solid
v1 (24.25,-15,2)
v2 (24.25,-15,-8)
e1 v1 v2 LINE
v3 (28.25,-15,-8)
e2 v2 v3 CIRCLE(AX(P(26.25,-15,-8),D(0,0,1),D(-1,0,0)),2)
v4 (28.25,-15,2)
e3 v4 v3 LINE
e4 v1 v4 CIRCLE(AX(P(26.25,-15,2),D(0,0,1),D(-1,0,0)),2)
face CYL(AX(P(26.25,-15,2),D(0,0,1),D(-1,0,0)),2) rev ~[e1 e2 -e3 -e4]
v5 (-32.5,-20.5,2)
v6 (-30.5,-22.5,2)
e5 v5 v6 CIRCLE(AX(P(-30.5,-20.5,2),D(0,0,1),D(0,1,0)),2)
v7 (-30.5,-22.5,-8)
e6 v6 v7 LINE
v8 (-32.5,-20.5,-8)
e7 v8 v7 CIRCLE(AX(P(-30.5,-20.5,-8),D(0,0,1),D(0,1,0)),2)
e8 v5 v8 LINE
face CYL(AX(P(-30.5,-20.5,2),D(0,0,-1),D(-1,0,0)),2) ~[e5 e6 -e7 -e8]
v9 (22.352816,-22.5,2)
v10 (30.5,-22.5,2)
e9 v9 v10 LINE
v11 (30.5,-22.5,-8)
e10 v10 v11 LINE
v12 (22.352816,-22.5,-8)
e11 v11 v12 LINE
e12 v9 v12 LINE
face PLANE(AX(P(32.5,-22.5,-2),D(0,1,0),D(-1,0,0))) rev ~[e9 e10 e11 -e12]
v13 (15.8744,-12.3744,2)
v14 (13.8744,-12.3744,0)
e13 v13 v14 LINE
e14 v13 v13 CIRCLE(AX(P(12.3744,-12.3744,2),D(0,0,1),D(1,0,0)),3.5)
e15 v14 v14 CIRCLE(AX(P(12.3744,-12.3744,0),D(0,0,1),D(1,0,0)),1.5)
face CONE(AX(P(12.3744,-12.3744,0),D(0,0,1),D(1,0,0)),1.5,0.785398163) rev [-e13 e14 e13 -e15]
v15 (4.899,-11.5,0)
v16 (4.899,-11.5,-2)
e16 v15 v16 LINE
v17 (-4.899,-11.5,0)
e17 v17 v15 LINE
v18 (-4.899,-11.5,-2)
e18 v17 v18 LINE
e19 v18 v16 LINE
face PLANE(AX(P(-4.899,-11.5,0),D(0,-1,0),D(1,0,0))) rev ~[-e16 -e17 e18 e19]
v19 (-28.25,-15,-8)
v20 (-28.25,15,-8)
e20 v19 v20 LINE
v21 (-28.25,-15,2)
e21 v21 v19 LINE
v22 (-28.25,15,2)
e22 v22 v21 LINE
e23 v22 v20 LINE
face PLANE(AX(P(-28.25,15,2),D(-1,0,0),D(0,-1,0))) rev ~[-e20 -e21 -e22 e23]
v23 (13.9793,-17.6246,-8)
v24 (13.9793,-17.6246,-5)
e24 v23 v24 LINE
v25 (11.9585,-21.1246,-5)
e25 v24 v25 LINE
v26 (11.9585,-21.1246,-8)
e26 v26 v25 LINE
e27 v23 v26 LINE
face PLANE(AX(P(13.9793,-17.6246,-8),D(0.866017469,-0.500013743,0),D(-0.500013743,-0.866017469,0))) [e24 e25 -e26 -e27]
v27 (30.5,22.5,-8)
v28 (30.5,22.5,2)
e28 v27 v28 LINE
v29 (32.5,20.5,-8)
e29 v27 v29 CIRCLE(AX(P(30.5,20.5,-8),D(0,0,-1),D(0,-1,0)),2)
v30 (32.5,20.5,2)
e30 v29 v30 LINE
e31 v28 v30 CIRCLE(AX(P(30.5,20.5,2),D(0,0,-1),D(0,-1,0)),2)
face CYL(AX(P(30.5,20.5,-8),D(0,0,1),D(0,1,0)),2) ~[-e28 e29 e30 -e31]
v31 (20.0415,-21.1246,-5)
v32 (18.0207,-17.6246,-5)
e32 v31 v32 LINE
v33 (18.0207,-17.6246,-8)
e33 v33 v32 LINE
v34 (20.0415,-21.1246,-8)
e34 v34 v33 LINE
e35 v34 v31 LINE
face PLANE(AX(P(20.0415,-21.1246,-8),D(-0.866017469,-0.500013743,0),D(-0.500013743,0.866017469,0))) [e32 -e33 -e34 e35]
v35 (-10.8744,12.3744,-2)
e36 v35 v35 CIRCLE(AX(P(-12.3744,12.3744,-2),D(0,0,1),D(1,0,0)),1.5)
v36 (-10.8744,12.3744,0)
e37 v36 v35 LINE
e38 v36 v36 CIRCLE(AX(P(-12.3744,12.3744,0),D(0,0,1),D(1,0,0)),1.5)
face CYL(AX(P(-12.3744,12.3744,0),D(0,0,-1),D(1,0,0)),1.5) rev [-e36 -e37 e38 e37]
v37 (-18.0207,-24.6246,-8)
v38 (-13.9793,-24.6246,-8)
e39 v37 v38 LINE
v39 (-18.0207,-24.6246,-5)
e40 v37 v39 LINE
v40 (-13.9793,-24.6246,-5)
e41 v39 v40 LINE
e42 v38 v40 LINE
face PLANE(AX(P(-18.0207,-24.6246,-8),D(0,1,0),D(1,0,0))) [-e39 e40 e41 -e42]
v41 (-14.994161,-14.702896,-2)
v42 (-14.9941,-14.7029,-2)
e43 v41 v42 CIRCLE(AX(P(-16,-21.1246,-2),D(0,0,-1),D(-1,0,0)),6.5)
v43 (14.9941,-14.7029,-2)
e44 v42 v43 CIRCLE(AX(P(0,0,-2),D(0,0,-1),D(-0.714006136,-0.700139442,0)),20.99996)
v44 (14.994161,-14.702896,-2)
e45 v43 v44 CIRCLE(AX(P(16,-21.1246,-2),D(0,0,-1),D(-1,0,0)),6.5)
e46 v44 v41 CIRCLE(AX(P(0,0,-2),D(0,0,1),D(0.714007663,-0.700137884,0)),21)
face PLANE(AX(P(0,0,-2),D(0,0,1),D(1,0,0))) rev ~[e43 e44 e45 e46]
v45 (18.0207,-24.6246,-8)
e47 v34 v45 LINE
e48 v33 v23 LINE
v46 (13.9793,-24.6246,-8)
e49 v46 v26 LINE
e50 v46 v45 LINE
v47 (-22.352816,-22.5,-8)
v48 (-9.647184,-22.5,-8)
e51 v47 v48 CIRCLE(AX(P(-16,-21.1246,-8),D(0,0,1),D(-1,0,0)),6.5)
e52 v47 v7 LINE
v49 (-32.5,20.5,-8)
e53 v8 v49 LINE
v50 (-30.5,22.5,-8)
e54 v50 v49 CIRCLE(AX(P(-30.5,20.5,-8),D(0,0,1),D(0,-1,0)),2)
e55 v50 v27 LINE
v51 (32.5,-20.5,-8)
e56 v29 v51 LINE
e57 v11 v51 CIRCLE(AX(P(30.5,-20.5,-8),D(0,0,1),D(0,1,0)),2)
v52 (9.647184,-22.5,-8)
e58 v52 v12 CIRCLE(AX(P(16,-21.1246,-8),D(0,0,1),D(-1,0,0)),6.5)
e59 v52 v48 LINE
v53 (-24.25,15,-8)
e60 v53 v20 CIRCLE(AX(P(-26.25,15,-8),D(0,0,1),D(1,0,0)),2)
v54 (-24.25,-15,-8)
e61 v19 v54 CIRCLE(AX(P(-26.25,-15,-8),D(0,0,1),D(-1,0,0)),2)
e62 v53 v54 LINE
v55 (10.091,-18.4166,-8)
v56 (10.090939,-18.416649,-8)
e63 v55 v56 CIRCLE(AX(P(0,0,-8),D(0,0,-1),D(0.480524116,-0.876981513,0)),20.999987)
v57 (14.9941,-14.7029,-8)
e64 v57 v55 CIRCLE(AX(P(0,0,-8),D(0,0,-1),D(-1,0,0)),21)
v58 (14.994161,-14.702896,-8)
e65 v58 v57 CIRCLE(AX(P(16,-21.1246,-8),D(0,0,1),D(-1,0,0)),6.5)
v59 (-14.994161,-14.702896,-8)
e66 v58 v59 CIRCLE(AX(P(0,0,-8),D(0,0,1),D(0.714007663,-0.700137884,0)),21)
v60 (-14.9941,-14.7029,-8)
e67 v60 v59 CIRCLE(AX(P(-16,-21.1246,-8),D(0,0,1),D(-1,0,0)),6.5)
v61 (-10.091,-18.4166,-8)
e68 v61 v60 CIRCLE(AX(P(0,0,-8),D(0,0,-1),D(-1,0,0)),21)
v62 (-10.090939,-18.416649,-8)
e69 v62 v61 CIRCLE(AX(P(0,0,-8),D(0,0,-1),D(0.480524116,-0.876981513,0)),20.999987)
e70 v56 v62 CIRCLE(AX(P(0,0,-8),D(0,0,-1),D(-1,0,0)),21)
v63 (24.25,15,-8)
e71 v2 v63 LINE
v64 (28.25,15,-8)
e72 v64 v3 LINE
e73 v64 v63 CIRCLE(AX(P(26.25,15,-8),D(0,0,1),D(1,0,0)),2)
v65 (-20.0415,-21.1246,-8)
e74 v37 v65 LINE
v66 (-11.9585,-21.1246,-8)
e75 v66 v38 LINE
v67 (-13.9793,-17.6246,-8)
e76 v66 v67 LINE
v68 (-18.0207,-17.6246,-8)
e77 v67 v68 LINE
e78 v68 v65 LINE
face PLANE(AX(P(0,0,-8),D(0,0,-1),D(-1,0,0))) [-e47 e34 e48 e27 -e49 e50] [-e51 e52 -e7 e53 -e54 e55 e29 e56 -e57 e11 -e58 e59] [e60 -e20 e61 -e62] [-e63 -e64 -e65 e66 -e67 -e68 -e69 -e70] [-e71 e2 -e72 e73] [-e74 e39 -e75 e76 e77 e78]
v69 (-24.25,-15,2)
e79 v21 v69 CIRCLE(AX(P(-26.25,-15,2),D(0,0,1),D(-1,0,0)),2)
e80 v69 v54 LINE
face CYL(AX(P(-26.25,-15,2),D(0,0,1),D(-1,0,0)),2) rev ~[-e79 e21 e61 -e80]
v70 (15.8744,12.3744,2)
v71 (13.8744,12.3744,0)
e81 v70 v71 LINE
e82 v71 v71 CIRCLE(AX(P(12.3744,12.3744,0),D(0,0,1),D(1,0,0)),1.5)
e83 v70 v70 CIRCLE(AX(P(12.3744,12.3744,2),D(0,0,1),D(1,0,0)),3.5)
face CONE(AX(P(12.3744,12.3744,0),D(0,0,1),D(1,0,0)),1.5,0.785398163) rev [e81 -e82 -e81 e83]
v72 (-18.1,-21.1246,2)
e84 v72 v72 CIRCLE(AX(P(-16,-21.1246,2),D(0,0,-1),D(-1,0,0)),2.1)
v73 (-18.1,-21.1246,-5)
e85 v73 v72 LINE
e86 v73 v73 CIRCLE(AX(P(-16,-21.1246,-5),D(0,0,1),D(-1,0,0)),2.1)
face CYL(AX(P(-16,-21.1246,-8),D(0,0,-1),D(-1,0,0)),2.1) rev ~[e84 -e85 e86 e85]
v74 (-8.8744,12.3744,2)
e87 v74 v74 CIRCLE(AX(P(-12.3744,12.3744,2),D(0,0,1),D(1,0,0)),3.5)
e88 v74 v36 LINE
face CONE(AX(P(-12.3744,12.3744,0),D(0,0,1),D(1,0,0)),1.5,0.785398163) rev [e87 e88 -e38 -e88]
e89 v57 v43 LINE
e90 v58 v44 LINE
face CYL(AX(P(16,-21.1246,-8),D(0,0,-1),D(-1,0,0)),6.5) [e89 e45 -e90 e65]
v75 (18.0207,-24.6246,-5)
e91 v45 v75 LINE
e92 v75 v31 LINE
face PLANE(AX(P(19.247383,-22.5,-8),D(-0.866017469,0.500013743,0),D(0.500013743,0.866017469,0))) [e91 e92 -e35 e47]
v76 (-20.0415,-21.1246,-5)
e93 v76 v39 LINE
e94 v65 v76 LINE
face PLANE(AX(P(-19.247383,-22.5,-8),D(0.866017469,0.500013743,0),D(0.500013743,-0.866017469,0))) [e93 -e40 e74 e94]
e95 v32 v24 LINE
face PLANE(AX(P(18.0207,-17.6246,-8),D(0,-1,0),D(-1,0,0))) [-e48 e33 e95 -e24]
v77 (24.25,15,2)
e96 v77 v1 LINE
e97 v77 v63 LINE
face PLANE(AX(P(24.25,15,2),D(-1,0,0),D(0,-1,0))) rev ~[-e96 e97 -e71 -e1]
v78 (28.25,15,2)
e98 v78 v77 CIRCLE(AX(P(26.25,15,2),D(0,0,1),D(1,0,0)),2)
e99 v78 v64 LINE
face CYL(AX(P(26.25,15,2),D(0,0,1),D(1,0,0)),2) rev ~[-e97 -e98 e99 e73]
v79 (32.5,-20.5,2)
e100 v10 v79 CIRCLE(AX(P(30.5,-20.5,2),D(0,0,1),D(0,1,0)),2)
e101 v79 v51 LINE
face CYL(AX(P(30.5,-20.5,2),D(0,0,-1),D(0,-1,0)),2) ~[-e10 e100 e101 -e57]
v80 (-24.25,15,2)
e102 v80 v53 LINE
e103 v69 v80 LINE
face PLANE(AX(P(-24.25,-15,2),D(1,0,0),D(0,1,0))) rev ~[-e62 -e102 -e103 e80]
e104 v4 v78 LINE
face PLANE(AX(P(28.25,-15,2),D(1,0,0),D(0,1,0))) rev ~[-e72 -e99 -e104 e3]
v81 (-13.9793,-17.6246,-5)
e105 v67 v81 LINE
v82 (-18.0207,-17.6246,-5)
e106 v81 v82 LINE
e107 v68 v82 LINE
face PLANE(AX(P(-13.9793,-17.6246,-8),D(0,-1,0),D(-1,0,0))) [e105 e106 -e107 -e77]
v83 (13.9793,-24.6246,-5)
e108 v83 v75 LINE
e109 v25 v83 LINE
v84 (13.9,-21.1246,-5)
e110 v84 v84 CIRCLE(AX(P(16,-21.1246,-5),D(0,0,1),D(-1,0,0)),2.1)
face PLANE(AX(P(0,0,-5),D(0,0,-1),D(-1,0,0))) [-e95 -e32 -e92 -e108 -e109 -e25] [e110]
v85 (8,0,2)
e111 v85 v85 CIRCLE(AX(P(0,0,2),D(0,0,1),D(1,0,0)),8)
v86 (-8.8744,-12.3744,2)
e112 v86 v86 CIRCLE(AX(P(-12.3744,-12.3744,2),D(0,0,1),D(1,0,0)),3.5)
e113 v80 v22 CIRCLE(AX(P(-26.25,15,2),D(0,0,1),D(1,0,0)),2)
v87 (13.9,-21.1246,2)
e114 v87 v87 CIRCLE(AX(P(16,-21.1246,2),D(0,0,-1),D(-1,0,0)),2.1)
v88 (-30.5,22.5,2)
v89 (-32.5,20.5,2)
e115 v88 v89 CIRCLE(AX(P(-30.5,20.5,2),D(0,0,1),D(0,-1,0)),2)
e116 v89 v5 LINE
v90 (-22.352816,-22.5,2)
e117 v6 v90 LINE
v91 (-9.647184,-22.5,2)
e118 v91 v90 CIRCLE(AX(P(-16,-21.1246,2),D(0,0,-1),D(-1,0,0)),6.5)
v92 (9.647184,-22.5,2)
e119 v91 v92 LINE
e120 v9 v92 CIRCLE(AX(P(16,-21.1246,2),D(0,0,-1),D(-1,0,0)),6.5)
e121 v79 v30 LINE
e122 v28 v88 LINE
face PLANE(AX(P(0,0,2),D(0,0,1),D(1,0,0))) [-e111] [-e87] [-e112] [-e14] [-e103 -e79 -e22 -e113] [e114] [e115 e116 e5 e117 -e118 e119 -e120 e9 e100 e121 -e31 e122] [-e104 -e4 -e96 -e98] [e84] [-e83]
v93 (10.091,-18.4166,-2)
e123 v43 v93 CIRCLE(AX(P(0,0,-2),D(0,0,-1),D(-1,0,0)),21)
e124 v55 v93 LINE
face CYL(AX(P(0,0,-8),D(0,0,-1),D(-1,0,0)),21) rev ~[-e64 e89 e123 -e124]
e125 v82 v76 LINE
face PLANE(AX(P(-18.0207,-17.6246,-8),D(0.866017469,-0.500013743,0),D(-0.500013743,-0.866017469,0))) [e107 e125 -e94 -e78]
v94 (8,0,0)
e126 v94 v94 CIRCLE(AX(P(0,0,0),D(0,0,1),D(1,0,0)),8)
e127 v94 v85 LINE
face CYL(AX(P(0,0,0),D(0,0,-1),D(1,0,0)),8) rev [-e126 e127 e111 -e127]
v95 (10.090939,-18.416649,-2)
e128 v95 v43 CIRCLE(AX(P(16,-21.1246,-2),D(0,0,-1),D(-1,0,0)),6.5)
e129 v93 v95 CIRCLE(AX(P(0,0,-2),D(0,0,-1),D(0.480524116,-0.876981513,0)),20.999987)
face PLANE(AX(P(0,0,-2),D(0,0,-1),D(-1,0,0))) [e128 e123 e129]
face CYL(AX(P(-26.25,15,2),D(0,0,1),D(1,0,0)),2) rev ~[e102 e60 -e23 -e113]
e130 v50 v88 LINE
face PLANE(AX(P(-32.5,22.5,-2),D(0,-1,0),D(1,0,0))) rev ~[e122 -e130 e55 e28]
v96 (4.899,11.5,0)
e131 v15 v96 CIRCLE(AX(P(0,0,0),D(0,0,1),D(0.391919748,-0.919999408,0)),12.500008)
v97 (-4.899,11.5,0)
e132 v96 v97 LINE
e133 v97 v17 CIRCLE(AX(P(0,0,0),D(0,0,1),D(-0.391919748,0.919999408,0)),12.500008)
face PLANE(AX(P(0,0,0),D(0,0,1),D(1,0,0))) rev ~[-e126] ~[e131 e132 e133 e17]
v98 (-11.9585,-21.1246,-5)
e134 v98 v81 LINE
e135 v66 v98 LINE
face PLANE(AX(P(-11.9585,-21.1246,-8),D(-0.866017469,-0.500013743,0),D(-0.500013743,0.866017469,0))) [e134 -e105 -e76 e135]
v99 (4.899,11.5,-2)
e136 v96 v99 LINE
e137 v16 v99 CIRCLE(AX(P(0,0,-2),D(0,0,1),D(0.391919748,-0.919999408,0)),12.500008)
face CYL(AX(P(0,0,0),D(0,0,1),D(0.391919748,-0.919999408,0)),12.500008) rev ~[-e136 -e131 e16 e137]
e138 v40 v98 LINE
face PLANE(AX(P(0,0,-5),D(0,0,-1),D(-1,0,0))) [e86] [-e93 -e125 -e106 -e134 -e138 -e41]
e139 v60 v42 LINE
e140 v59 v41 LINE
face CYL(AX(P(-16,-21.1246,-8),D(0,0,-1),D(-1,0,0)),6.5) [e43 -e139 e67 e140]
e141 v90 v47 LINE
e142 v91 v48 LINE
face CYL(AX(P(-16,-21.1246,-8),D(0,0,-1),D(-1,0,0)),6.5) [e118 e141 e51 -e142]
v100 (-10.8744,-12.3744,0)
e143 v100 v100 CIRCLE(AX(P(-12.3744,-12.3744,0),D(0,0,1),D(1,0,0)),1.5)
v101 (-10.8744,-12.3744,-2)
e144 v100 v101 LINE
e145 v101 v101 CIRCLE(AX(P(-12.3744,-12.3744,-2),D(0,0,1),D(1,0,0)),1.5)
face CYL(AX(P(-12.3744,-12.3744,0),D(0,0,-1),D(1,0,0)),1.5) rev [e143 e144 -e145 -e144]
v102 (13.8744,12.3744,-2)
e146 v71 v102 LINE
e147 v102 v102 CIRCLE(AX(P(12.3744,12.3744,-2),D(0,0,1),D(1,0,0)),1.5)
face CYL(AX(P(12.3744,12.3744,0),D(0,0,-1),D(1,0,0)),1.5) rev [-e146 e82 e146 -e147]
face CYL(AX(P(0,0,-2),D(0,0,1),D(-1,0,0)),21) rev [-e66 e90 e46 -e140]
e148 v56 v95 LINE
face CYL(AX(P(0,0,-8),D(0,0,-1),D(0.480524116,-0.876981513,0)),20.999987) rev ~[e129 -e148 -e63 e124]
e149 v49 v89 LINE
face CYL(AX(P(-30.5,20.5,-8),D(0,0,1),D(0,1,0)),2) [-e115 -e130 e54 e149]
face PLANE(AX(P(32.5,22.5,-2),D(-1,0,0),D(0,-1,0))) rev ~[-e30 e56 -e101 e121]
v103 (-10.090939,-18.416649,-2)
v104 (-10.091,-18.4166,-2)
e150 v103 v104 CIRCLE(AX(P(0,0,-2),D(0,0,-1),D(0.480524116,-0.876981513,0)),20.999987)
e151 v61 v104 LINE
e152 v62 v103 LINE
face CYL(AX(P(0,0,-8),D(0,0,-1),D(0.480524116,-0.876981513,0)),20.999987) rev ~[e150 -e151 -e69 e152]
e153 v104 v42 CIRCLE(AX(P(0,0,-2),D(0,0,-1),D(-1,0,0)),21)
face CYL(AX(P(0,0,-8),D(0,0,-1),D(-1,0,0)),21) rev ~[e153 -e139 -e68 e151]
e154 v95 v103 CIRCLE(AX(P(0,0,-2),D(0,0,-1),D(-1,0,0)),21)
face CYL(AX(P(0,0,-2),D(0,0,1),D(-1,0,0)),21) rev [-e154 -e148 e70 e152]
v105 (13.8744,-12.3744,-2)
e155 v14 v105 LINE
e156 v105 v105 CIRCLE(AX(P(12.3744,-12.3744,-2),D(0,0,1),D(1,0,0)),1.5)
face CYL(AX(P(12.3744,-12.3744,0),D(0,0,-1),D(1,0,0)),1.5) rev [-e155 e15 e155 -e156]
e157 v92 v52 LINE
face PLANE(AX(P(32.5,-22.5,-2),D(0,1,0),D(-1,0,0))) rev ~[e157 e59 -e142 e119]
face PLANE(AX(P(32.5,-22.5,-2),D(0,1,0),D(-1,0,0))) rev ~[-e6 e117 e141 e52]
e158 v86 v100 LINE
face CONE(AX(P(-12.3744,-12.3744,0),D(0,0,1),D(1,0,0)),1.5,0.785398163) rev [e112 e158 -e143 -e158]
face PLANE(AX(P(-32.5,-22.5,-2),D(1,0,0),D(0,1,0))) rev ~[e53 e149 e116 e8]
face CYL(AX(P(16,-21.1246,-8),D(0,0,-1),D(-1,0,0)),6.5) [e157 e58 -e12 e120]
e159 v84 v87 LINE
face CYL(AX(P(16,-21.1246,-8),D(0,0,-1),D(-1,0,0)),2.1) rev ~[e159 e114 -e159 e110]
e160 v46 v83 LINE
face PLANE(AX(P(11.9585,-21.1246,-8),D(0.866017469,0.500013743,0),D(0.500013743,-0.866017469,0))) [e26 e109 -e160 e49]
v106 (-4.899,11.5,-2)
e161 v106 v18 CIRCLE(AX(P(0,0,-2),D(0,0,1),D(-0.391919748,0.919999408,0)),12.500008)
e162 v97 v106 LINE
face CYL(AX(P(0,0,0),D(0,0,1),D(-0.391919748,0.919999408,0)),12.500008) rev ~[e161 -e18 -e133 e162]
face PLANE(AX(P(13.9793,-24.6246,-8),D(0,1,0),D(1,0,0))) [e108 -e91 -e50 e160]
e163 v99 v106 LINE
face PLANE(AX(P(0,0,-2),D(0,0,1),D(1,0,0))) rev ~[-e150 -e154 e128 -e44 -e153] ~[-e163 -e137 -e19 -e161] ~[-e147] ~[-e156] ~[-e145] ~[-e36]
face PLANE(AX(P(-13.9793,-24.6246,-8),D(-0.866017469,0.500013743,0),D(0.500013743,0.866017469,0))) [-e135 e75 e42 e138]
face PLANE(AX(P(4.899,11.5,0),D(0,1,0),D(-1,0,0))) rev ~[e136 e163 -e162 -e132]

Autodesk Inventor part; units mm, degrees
ref_plane "YZ Plane" through (0, 0, 0) normal (1, 0, 0) x (0, 1, 0)
ref_plane "XZ Plane" through (0, 0, 0) normal (0, 1, 0) x (-1, 0, 0)
ref_plane "XY Plane" through (0, 0, 0) normal (0, 0, 1) x (1, 0, 0)
sketch "Skizze1" plane through (0, 0, 0) normal (0, 0, 1) x (1, 0, 0)
  circle A0 centre (0, 0) radius 4.5 projected
  line L0 (4.899, 11.5) -> (-4.899, 11.5) projected
  arc A1 (-4.899, 11.5) -> (-4.899, -11.5) centre (0, 0) ccw projected
  line L1 (-4.899, -11.5) -> (4.899, -11.5) projected
  arc A2 (4.899, -11.5) -> (4.899, 11.5) centre (0, 0) ccw projected
  arc A3 (4.899, -11.5) -> (4.899, 11.5) centre (0, 0) ccw projected
  arc A4 (-4.899, 11.5) -> (-4.899, -11.5) centre (0, 0) ccw projected
  line L2 (-4.899, -11.5) -> (4.899, -11.5) projected
  line L3 (4.899, 11.5) -> (-4.899, 11.5) projected
  circle A5 centre (0, 0) radius 21 projected
  arc A6 (-21.082, -16.7467) -> (-16.7467, -21.082) centre (0, 0) ccw projected
  line L4 (-16.7467, -21.082) -> (16.7467, -21.082) projected
  arc A7 (16.7467, -21.082) -> (21.082, -16.7467) centre (0, 0) ccw projected
  line L5 (21.082, -16.7467) -> (21.082, 16.7467) projected
  arc A8 (21.082, 16.7467) -> (16.7467, 21.082) centre (0, 0) ccw projected
  line L6 (16.7467, 21.082) -> (-16.7467, 21.082) projected
  arc A9 (-16.7467, 21.082) -> (-21.082, 16.7467) centre (0, 0) ccw projected
  line L7 (-21.082, 16.7467) -> (-21.082, -16.7467) projected
  line L8 (-32.5, -22.5) -> (32.5, -22.5)
  line L9 (32.5, -22.5) -> (32.5, 22.5)
  line L10 (32.5, 22.5) -> (-32.5, 22.5)
  line L11 (-32.5, 22.5) -> (-32.5, -22.5)
  line L12 (-32.5, -22.5) -> (32.5, 22.5) construction
  line L13 (32.5, -22.5) -> (-32.5, 22.5) construction
  arc A10 (-14.4273, -15.2596) -> (14.4273, -15.2596) centre (0, 0) ccw projected
  arc A11 (15.2596, 14.4273) -> (14.4273, 15.2596) centre (15.494, 15.494) ccw projected
  arc A12 (14.4273, -15.2596) -> (15.2596, -14.4273) centre (15.494, -15.494) ccw projected
  arc A13 (-15.2596, -14.4273) -> (-14.4273, -15.2596) centre (-15.494, -15.494) ccw projected
  arc A14 (-14.4273, 15.2596) -> (-15.2596, 14.4273) centre (-15.494, 15.494) ccw projected
  arc A15 (-15.2596, 14.4273) -> (-15.2596, -14.4273) centre (0, 0) ccw projected
  arc A16 (14.4273, 15.2596) -> (-14.4273, 15.2596) centre (0, 0) ccw projected
  arc A17 (15.2596, -14.4273) -> (15.2596, 14.4273) centre (0, 0) ccw projected
  circle A18 centre (12.3744, -12.3744) radius 1.5 projected
  circle A19 centre (12.3744, -12.3744) radius 1.5 projected
  circle A20 centre (-12.3744, -12.3744) radius 1.5 projected
  circle A21 centre (-12.3744, -12.3744) radius 1.5 projected
  circle A22 centre (-12.3744, 12.3744) radius 1.5 projected
  circle A23 centre (-12.3744, 12.3744) radius 1.5 projected
  circle A24 centre (12.3744, 12.3744) radius 1.5 projected
  circle A25 centre (12.3744, 12.3744) radius 1.5 projected
  point P0 (0, 0)
  point P1 (8.8388, 8.8388)
  point P2 (8.8388, -8.8388)
  point P3 (-8.8388, -8.8388)
  point P4 (-8.8388, 8.8388)
  dimension "d0" = 45
  dimension "d1" = 65
extrude "Extrusion1" add sketch "Skizze1" against normal blind 2 contours A5 | A5 A11 | A12 A5 | A5 A14 | A13 A5 | L7 A9 L6 A8 L5 A7 L4 A6 | L11 L10 L9 L8
sketch "Skizze2" plane through (0, 0, 0) normal (0, 0, 1) x (1, 0, 0)
  circle A0 centre (0, 0) radius 8
  arc A1 (-4.899, 11.5) -> (-4.899, -11.5) centre (0, 0) ccw projected
  line L0 (-4.899, 11.5) -> (4.899, 11.5) projected
  arc A2 (4.899, -11.5) -> (4.899, 11.5) centre (0, 0) ccw projected
  line L1 (4.899, -11.5) -> (-4.899, -11.5) projected
  circle A3 centre (12.3744, 12.3744) radius 1.5 projected
  circle A4 centre (-12.3744, 12.3744) radius 1.5 projected
  circle A5 centre (-12.3744, -12.3744) radius 1.5 projected
  circle A6 centre (12.3744, -12.3744) radius 1.5 projected
  line L2 (-32.5, -22.5) -> (32.5, -22.5) projected
  line L3 (32.5, -22.5) -> (32.5, 22.5) projected
  line L4 (32.5, 22.5) -> (-32.5, 22.5) projected
  line L5 (-32.5, 22.5) -> (-32.5, -22.5) projected
  dimension "d31" = 16
extrude "Extrusion2" add sketch "Skizze2" along normal blind 2 contours L0 A2 L1 A1 | L5 L4 L3 L2
sketch "Skizze3" plane through (0, 0, -2) normal (0, 0, -1) x (-1, 0, 0)
  circle A0 centre (0, 0) radius 21 projected
  line L0 (-32.5, -22.5) -> (32.5, -22.5) projected
  line L1 (32.5, -22.5) -> (32.5, 22.5) projected
  line L2 (32.5, 22.5) -> (-32.5, 22.5) projected
  line L3 (-32.5, 22.5) -> (-32.5, -22.5) projected
  arc A1 (4.899, -11.5) -> (4.899, 11.5) centre (0, 0) ccw projected
  line L4 (-4.899, 11.5) -> (4.899, 11.5) projected
  line L5 (4.899, -11.5) -> (-4.899, -11.5) projected
  arc A2 (-4.899, 11.5) -> (-4.899, -11.5) centre (0, 0) ccw projected
  point P0 (0, 0)
extrude "Extrusion3" add sketch "Skizze3" along normal blind 6 contours L3 L2 L1 L0
sketch "Skizze4" plane through (0, 0, 2) normal (0, 0, 1) x (1, 0, 0)
  circle A0 centre (0, 0) radius 8 projected
  line L0 (-26.25, -15) -> (-26.25, 15) construction
  line L1 (-24.25, -15) -> (-24.25, 15)
  line L2 (-28.25, 15) -> (-28.25, -15)
  arc A1 (-28.25, -15) -> (-24.25, -15) centre (-26.25, -15) ccw
  arc A2 (-24.25, 15) -> (-28.25, 15) centre (-26.25, 15) ccw
  line L3 (26.25, -15) -> (26.25, 15) construction
  line L4 (28.25, -15) -> (28.25, 15)
  line L5 (24.25, 15) -> (24.25, -15)
  arc A3 (24.25, -15) -> (28.25, -15) centre (26.25, -15) ccw
  arc A4 (28.25, 15) -> (24.25, 15) centre (26.25, 15) ccw
  line L6 (-26.25, 0) -> (26.25, 0) construction
  dimension "d10" = 4
  dimension "d11" = 30
  dimension "d32" = 52.5
extrude "Extrusion4" cut sketch "Skizze4" against normal through all contours A1 L2 A2 L1 | A3 L5 A4 L4
sketch "Skizze5" plane through (0, 0, -8) normal (0, 0, -1) x (-1, 0, 0)
  circle A0 centre (0, 0) radius 20
  circle A1 centre (-16, -21.1246) radius 6.5
  circle A2 centre (16, -21.1246) radius 6.5
  circle A3 centre (0, 0) radius 21 projected
  line L0 (-32.5, -22.5) -> (32.5, -22.5) projected
  line L1 (32.5, -22.5) -> (32.5, 22.5) projected
  line L2 (32.5, 22.5) -> (-32.5, 22.5) projected
  line L3 (-32.5, 22.5) -> (-32.5, -22.5) projected
  line L4 (-16, -21.1246) -> (16, -21.1246) construction
  line L5 (0, 0) -> (0, -21.1246) construction
  circle A4 centre (-16, -21.1246) radius 2.1
  circle A5 centre (16, -21.1246) radius 2.1
  dimension "d14" = 40
  dimension "d15" = 13
  dimension "d16" = 13
  dimension "d17" = 32
  dimension "d18" = 4.2
  dimension "d19" = 4.2
extrude "Extrusion5" add sketch "Skizze5" against normal up to surface (10 mm away) contours A1 A3 | A2 A3 | A1 L0 A4 A3 | A2 L0 A5 A3 | L0 A4 A1 | L0 A5 A2
extrude "Extrusion6" cut sketch "Skizze5" against normal through all contours A4 L0 | L0 A4 | A5 L0 | L0 A5
sketch "Skizze6" plane through (0, 0, -8) normal (0, 0, -1) x (-1, 0, 0)
  circle A0 centre (-16, -21.1246) radius 2.1 projected
  circle A1 centre (16, -21.1246) radius 2.1 projected
  line L0 (22.3528, -22.5) -> (32.5, -22.5) projected
  line L1 (32.5, -22.5) -> (32.5, 22.5) projected
  line L2 (32.5, 22.5) -> (-32.5, 22.5) projected
  line L3 (-32.5, 22.5) -> (-32.5, -22.5) projected
  arc A2 (-10.091, -18.4166) -> (10.091, -18.4166) centre (0, 0) ccw projected
  line L4 (-20.0415, -21.1246) -> (-18.0207, -17.6246)
  line L5 (-18.0207, -17.6246) -> (-13.9793, -17.6246)
  line L6 (-13.9793, -17.6246) -> (-11.9585, -21.1246)
  line L7 (-11.9585, -21.1246) -> (-13.9793, -24.6246)
  line L8 (-13.9793, -24.6246) -> (-18.0207, -24.6246)
  line L9 (-18.0207, -24.6246) -> (-20.0415, -21.1246)
  line L10 (20.0415, -21.1246) -> (18.0207, -24.6246)
  line L11 (18.0207, -24.6246) -> (13.9793, -24.6246)
  line L12 (13.9793, -24.6246) -> (11.9585, -21.1246)
  line L13 (11.9585, -21.1246) -> (13.9793, -17.6246)
  line L14 (13.9793, -17.6246) -> (18.0207, -17.6246)
  line L15 (18.0207, -17.6246) -> (20.0415, -21.1246)
  line L16 (-32.5, -22.5) -> (32.5, -22.5) projected
  line L17 (-32.5, -22.5) -> (32.5, -22.5) projected
  arc A3 (-10.091, -18.4166) -> (-14.9941, -14.7029) centre (-16, -21.1246) ccw projected
  arc A4 (14.9941, -14.7029) -> (-14.9941, -14.7029) centre (0, 0) ccw projected
  arc A5 (14.9941, -14.7029) -> (10.091, -18.4166) centre (16, -21.1246) ccw projected
  line L18 (-32.5, -22.5) -> (-22.3528, -22.5) projected
  arc A6 (-22.3528, -22.5) -> (-9.6472, -22.5) centre (-16, -21.1246) ccw projected
  line L19 (-9.6472, -22.5) -> (9.6472, -22.5) projected
  arc A7 (9.6472, -22.5) -> (22.3528, -22.5) centre (16, -21.1246) ccw projected
  point P0 (0, 0)
  dimension "d24" = 7
extrude "Extrusion7" cut sketch "Skizze6" against normal blind 3 contours A0 L16 L9 L4 L5 L6 L7 | A0 L16 L7 L8 L9 | L16 A1 L10 L11 L12 | L12 L13 L14 L15 L10 L16 A1
chamfer "Fase1" distance 2 angle 45 4 edges at (-13.8744, 12.3744, 2) (10.8744, 12.3744, 2) (10.8744, -12.3744, 2) (-13.8744, -12.3744, 2)
fillet "Rundung1" radius 2 4 edges at (-32.5, -22.5, -3) (32.5, -22.5, -3) (32.5, 22.5, -3) (-32.5, 22.5, -3)
sketch "Skizze7" plane through (0, 0, -8) normal (0, 0, -1) x (-1, 0, 0)
  arc A0 (32.5, 20.5) -> (30.5, 22.5) centre (30.5, 20.5) ccw projected
  line L0 (30.5, 22.5) -> (-30.5, 22.5) projected
  arc A1 (-30.5, 22.5) -> (-32.5, 20.5) centre (-30.5, 20.5) ccw projected
  line L1 (-32.5, 20.5) -> (-32.5, -20.5) projected
  arc A2 (-32.5, -20.5) -> (-30.5, -22.5) centre (-30.5, -20.5) ccw projected
  line L2 (-30.5, -22.5) -> (-22.3528, -22.5) projected
  arc A3 (-22.3528, -22.5) -> (-9.6472, -22.5) centre (-16, -21.1246) ccw projected
  line L3 (-9.6472, -22.5) -> (9.6472, -22.5) projected
  arc A4 (9.6472, -22.5) -> (22.3528, -22.5) centre (16, -21.1246) ccw projected
  line L4 (22.3528, -22.5) -> (30.5, -22.5) projected
  arc A5 (30.5, -22.5) -> (32.5, -20.5) centre (30.5, -20.5) ccw projected
  line L5 (32.5, -20.5) -> (32.5, 20.5) projected
  arc A6 (-24.25, 15) -> (-28.25, 15) centre (-26.25, 15) ccw projected
  line L6 (-24.25, 15) -> (-24.25, -15) projected
  arc A7 (-28.25, -15) -> (-24.25, -15) centre (-26.25, -15) ccw projected
  line L7 (-28.25, -15) -> (-28.25, 15) projected
  arc A8 (28.25, 15) -> (24.25, 15) centre (26.25, 15) ccw projected
  line L8 (28.25, 15) -> (28.25, -15) projected
  arc A9 (24.25, -15) -> (28.25, -15) centre (26.25, -15) ccw projected
  line L9 (24.25, -15) -> (24.25, 15) projected
  arc A10 (-10.091, -18.4166) -> (10.091, -18.4166) centre (0, 0) ccw projected
  arc A11 (-10.091, -18.4166) -> (-14.9941, -14.7029) centre (-16, -21.1246) ccw projected
  arc A12 (14.9941, -14.7029) -> (-14.9941, -14.7029) centre (0, 0) ccw projected
  arc A13 (14.9941, -14.7029) -> (10.091, -18.4166) centre (16, -21.1246) ccw projected
  line L10 (18.0207, -17.6246) -> (20.0415, -21.1246) projected
  line L11 (20.0415, -21.1246) -> (18.0207, -24.6246) projected
  line L12 (18.0207, -24.6246) -> (13.9793, -24.6246) projected
  line L13 (13.9793, -24.6246) -> (11.9585, -21.1246) projected
  line L14 (11.9585, -21.1246) -> (13.9793, -17.6246) projected
  line L15 (13.9793, -17.6246) -> (18.0207, -17.6246) projected
  line L16 (-18.0207, -24.6246) -> (-20.0415, -21.1246) projected
  line L17 (-20.0415, -21.1246) -> (-18.0207, -17.6246) projected
  line L18 (-18.0207, -17.6246) -> (-13.9793, -17.6246) projected
  line L19 (-13.9793, -17.6246) -> (-11.9585, -21.1246) projected
  line L20 (-11.9585, -21.1246) -> (-13.9793, -24.6246) projected
  line L21 (-13.9793, -24.6246) -> (-18.0207, -24.6246) projected
  circle A14 centre (0, 0) radius 21
  point P0 (0, 0)
extrude "Extrusion8" cut sketch "Skizze7" against normal up to surface (6 mm away) contours A11 A12 A13 A10 | A14 A11 | A13 A14
properties part number "GearedStepper_RotBase" material "ABS-Kunststoff"
